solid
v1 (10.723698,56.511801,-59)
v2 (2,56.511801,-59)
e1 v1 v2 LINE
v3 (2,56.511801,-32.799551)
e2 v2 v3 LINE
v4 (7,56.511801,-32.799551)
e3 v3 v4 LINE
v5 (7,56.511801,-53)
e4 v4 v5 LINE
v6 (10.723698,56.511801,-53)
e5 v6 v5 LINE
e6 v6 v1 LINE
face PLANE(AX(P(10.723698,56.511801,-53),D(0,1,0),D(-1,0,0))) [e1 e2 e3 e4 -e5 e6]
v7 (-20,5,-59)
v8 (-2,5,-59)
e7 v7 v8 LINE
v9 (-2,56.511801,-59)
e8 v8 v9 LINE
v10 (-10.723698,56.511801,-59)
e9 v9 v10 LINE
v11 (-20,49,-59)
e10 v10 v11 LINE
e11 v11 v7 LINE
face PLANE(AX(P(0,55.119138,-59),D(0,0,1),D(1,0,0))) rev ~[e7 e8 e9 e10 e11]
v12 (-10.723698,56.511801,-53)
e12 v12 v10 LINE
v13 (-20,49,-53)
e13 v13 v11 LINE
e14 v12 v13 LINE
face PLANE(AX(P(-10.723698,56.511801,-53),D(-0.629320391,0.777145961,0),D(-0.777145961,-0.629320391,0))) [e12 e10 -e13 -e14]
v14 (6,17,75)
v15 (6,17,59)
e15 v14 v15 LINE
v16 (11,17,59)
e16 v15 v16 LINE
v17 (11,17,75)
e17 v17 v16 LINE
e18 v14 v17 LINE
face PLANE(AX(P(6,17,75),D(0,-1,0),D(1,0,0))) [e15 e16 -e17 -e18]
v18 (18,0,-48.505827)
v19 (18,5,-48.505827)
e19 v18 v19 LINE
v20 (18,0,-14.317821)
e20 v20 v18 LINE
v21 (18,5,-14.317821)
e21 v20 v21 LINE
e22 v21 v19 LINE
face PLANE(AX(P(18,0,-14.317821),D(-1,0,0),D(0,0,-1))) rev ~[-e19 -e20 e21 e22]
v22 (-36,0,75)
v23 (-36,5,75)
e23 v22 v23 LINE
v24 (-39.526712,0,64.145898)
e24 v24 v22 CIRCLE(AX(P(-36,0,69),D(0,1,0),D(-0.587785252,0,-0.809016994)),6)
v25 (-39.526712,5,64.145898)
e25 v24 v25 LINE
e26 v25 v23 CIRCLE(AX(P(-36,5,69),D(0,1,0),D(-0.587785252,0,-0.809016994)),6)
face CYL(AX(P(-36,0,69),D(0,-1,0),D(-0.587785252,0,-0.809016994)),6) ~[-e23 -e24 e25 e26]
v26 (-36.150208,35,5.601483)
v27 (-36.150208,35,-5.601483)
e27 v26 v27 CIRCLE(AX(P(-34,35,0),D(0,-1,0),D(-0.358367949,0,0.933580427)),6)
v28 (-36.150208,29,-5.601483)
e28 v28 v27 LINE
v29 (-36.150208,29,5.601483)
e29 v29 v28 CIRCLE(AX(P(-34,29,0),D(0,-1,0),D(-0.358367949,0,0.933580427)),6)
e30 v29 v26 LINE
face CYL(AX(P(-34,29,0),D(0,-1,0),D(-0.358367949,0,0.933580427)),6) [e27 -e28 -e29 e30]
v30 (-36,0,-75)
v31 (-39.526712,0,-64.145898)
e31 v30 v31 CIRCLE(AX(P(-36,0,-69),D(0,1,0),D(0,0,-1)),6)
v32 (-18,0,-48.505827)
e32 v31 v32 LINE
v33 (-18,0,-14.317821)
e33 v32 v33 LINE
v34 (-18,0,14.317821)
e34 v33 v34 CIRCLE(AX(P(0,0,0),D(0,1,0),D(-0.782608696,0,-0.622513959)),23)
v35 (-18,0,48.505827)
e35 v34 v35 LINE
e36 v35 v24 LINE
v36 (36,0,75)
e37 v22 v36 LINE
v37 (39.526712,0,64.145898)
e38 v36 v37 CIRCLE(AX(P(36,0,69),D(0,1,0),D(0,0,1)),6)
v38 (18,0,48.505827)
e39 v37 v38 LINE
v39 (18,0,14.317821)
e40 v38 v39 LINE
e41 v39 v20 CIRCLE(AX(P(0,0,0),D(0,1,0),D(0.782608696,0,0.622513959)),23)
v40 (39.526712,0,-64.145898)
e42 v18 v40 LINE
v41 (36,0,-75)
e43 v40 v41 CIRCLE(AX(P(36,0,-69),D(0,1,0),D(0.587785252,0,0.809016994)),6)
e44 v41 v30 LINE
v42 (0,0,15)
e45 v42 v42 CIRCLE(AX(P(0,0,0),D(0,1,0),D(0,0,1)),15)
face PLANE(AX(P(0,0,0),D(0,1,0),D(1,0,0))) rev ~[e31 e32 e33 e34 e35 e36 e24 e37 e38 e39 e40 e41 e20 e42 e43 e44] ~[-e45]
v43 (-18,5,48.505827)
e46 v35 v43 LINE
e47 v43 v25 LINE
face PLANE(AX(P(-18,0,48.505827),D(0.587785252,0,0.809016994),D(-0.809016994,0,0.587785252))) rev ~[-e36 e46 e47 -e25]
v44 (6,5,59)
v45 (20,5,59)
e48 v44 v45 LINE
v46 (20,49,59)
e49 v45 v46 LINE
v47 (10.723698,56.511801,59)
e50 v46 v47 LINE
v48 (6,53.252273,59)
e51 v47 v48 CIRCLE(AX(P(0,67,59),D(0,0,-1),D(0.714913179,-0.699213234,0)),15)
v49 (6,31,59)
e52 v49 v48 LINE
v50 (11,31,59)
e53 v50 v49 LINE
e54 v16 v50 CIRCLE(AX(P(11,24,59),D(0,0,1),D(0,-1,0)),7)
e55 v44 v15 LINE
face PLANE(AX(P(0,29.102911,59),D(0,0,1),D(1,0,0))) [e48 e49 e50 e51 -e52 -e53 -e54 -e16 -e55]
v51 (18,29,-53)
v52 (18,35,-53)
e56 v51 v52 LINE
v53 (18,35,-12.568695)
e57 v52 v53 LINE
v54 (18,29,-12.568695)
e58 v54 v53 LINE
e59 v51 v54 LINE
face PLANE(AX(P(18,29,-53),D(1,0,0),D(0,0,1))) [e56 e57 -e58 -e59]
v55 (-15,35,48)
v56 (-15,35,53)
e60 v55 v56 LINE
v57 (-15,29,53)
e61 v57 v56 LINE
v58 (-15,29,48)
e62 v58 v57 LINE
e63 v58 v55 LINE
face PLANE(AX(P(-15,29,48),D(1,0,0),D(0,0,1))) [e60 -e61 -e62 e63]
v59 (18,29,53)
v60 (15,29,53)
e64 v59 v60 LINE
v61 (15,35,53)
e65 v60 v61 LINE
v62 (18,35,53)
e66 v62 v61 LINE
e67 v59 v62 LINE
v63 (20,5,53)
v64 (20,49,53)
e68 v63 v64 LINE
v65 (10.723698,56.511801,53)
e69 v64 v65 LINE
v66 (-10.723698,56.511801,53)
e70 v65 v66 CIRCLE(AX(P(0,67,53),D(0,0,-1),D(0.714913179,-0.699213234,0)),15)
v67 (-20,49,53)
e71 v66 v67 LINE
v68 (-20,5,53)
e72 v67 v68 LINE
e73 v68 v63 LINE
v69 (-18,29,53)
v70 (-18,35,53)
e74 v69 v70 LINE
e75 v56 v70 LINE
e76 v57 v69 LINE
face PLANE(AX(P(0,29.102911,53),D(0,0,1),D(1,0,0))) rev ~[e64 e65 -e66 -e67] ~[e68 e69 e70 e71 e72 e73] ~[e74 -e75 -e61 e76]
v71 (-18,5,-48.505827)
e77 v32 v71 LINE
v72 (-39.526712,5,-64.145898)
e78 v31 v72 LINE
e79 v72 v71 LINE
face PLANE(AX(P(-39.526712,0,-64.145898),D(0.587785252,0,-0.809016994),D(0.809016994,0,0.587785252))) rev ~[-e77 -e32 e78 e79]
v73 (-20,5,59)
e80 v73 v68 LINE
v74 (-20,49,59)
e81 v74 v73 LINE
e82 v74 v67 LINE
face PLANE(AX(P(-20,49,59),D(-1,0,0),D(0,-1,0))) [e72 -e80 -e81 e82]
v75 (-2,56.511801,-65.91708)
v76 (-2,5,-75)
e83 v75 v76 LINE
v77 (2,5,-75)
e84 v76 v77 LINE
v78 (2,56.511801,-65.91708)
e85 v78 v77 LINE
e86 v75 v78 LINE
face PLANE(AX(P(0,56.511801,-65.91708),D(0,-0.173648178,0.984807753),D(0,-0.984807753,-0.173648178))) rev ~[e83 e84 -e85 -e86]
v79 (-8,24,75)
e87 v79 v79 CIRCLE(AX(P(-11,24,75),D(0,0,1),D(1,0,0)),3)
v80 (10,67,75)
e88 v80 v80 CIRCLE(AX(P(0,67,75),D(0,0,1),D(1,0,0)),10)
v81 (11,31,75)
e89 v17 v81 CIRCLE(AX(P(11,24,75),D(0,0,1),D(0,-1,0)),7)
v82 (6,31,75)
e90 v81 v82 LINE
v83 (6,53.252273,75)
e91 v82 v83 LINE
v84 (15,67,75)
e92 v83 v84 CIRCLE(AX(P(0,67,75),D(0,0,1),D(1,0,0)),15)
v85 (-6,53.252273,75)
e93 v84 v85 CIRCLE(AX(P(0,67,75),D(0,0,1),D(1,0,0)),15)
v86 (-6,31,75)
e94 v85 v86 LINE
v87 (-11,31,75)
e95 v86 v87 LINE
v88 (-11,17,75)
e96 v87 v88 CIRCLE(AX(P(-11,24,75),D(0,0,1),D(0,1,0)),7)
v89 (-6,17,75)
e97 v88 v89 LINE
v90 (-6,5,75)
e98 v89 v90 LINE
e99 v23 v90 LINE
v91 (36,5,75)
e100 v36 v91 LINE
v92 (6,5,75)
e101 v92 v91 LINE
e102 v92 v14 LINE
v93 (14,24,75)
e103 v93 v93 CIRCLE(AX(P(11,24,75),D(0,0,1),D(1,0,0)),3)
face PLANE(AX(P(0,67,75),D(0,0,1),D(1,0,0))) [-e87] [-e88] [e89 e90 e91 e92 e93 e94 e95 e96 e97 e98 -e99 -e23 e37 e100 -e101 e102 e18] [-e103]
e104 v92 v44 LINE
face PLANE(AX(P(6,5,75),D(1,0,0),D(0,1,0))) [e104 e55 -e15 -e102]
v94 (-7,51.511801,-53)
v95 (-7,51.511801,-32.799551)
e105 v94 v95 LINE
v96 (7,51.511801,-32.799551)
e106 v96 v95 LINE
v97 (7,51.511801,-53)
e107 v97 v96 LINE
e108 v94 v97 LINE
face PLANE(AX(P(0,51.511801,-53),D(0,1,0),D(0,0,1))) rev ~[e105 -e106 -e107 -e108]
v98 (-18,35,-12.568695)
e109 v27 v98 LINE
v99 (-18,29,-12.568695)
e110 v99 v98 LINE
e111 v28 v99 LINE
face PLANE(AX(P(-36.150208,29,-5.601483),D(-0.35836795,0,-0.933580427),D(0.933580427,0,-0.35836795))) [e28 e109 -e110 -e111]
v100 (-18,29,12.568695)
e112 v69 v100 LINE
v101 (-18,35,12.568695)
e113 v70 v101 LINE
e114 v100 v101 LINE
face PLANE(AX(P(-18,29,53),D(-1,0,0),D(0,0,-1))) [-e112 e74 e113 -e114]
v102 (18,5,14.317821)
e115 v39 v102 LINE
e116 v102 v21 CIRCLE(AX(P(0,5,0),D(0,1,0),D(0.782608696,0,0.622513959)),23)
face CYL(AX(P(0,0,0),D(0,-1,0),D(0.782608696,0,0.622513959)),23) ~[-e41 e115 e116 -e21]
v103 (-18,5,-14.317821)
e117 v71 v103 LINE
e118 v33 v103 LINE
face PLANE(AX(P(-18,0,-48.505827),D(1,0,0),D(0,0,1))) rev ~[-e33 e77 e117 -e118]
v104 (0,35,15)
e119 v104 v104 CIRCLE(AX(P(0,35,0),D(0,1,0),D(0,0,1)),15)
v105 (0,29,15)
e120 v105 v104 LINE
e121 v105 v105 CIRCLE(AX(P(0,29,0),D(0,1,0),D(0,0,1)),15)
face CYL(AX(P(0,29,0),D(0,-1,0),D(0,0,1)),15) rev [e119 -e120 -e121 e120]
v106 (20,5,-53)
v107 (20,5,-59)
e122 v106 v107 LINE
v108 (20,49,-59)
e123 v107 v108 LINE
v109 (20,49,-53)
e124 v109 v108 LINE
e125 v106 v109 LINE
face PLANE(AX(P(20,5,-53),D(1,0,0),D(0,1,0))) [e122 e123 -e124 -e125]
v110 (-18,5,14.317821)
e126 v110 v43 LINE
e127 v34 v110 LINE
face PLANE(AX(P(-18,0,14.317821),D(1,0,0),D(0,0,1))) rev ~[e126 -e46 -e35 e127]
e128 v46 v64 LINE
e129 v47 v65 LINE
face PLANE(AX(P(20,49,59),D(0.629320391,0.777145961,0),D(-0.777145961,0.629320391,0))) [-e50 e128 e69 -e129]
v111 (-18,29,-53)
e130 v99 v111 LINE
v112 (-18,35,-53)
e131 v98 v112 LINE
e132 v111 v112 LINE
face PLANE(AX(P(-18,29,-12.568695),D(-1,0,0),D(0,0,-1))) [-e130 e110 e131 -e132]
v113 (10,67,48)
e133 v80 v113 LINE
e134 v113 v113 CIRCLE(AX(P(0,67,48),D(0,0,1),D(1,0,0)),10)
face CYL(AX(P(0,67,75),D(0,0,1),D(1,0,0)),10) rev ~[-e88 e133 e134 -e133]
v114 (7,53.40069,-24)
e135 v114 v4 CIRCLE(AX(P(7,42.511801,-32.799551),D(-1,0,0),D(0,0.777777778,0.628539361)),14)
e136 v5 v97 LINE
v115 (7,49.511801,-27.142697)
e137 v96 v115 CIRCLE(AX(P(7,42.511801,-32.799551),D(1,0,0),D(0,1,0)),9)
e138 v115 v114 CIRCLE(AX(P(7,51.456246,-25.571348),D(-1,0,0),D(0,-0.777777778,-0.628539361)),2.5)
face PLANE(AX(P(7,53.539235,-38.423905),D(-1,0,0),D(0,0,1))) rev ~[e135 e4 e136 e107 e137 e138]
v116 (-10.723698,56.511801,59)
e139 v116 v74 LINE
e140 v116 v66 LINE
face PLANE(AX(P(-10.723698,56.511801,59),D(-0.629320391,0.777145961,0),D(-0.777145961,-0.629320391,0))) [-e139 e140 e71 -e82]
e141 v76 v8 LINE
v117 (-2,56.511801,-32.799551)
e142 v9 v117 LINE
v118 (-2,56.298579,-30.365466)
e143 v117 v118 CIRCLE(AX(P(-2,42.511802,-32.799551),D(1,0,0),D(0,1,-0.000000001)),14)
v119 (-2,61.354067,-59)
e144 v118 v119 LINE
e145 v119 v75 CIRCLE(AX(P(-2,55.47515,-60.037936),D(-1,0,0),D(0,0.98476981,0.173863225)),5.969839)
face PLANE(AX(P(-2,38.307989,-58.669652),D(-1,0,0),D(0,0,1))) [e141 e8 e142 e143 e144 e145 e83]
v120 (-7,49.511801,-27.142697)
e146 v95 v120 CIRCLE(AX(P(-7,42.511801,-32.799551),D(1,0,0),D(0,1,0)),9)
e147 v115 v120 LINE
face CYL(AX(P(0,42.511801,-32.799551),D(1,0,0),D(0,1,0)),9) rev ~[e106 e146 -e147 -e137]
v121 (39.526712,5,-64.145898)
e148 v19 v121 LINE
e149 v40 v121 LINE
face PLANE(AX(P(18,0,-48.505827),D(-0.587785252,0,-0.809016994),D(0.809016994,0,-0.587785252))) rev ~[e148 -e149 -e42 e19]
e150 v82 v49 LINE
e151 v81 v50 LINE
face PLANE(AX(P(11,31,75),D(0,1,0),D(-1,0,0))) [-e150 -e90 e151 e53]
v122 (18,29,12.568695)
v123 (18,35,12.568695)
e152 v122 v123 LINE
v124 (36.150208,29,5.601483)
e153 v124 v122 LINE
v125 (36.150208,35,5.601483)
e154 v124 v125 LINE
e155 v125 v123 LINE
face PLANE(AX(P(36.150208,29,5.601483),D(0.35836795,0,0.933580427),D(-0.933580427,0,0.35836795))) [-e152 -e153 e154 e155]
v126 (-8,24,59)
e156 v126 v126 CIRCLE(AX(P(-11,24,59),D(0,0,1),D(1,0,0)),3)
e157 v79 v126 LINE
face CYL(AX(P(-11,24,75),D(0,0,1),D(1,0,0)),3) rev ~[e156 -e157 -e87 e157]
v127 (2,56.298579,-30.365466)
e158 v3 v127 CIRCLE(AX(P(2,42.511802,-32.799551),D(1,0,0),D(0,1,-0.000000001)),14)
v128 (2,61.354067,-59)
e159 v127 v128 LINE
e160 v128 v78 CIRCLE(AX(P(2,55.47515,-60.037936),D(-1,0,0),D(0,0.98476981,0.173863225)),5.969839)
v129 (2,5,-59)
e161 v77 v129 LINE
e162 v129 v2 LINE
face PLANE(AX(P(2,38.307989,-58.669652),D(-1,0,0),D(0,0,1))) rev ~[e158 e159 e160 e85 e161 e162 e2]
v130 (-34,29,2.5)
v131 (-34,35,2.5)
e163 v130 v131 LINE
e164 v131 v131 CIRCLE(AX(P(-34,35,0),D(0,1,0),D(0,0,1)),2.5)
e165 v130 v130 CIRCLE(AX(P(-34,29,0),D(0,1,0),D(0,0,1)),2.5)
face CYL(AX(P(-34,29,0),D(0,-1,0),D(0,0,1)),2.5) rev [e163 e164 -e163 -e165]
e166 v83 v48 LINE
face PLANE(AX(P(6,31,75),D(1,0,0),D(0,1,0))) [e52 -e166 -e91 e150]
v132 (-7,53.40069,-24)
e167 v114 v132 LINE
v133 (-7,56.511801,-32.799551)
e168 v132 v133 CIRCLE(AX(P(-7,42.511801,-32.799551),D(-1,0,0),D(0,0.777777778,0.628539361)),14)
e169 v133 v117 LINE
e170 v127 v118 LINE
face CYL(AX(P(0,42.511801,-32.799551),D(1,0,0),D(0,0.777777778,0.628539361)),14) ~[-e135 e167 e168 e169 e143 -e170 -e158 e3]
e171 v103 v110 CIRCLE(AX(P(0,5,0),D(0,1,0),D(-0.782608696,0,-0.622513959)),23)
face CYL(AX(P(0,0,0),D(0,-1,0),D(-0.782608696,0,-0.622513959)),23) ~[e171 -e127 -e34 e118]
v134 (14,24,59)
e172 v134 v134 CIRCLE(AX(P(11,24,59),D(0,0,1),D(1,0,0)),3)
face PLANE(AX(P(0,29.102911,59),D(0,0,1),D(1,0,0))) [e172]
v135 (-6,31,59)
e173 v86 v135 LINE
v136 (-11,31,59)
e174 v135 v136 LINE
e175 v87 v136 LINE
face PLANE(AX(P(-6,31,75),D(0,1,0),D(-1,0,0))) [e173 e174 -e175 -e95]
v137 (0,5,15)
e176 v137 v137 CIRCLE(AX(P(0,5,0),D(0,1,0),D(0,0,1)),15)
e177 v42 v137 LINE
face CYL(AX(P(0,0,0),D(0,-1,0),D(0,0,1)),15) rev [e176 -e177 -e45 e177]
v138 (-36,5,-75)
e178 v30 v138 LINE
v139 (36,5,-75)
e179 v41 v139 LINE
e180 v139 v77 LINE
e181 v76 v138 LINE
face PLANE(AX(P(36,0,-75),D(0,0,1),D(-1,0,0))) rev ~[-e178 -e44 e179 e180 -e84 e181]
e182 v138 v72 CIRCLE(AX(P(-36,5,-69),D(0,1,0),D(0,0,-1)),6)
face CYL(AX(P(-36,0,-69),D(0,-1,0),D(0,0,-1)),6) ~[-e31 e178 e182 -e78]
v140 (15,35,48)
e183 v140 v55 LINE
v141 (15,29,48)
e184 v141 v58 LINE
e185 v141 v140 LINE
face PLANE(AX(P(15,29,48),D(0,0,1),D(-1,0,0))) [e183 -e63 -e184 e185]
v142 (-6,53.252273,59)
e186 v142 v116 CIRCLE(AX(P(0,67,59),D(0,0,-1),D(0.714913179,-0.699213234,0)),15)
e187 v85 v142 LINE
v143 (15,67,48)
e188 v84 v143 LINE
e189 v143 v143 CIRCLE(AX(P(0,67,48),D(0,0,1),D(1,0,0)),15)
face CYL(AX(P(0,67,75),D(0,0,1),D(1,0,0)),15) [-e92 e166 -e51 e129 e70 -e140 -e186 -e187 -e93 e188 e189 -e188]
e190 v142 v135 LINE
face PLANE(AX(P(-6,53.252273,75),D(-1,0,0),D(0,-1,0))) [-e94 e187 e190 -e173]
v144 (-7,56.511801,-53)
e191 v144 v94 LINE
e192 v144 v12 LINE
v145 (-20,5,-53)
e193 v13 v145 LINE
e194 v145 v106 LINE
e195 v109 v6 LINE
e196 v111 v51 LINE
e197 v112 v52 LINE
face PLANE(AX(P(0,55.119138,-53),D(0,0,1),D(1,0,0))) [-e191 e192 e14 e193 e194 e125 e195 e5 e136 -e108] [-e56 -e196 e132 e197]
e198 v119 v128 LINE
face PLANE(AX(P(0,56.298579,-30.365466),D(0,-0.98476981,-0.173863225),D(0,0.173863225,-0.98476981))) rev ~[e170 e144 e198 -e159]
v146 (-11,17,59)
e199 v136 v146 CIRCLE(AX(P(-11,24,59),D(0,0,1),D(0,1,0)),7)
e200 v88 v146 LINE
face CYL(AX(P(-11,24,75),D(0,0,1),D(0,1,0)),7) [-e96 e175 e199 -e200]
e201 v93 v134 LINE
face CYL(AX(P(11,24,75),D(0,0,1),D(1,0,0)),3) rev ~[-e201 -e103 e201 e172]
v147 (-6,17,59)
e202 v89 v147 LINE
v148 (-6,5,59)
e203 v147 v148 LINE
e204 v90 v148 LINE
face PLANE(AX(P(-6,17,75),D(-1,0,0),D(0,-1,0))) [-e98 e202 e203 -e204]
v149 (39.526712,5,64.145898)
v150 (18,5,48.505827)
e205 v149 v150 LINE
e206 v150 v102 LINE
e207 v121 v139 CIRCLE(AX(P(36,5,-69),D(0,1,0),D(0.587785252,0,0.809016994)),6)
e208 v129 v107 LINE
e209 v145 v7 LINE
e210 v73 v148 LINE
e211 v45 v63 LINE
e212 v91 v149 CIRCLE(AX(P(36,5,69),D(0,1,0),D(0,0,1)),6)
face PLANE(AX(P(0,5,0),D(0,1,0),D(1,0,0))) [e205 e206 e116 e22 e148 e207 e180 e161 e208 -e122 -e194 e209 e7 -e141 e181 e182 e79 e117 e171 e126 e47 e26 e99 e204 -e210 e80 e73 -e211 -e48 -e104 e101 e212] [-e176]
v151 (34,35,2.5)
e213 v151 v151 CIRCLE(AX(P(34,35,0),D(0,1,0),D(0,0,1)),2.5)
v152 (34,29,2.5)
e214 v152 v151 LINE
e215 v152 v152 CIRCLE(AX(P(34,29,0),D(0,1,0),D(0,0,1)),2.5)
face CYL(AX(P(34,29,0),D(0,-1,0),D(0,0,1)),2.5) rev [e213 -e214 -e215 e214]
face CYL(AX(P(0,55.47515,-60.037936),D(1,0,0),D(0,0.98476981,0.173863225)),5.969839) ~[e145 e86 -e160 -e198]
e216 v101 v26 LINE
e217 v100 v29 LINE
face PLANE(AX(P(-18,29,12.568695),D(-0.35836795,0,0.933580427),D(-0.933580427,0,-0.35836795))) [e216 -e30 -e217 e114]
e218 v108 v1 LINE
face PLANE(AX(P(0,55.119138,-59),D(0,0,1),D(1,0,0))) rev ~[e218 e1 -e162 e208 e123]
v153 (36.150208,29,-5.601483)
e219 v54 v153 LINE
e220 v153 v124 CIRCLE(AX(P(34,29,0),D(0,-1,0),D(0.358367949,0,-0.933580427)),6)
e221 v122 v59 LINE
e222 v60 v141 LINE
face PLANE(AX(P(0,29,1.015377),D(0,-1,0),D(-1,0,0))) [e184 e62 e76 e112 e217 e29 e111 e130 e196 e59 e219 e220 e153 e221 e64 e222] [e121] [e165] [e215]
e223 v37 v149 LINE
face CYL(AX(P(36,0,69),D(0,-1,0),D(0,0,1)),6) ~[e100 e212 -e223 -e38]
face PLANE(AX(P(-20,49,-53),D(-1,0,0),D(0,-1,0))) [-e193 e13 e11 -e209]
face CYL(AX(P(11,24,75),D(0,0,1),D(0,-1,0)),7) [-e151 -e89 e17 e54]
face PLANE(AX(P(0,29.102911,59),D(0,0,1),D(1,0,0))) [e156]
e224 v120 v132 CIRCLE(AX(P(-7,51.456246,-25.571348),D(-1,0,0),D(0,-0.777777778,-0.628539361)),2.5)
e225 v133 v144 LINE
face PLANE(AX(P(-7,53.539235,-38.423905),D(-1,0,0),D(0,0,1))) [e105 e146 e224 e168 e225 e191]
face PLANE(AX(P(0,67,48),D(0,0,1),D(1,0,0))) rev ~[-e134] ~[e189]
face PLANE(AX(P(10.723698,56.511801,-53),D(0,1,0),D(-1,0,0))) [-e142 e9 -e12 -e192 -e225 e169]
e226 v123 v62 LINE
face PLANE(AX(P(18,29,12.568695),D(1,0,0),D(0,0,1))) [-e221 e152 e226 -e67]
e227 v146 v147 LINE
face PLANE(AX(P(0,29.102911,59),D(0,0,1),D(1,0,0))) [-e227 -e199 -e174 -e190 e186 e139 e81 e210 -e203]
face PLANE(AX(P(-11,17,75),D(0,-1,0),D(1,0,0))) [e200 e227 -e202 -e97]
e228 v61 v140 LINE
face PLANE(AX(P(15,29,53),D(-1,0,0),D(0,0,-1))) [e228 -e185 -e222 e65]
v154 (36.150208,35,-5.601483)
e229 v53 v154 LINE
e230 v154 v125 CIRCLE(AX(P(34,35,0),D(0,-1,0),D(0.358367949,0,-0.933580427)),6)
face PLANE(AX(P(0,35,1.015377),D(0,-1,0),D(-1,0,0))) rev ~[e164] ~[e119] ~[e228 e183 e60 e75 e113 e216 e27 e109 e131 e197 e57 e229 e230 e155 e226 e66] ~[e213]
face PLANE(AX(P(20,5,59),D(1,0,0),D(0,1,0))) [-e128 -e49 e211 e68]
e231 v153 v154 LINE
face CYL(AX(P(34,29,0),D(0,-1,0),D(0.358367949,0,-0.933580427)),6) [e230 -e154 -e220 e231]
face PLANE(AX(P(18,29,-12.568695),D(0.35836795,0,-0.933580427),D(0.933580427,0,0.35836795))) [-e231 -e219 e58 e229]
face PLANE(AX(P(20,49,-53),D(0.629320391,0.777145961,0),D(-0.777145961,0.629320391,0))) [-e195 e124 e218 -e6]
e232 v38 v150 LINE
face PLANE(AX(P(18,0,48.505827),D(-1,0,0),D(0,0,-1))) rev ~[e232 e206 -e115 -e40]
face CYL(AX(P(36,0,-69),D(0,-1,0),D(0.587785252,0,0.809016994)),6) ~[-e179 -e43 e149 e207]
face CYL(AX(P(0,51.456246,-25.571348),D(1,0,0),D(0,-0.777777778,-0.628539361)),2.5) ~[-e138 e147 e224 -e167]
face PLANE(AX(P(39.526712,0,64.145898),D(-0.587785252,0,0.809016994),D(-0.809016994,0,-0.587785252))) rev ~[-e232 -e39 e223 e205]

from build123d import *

# Parameters (mm, degrees)
SKETCH1_R            = 15
BOSS_EXTRUDE1_DEPTH  = 5
SKETCH2_R            = 15
SKETCH2_R_2          = 10
BOSS_EXTRUDE2_DEPTH  = 27
SKETCH4_R            = 3
BOSS_EXTRUDE19_DEPTH = 16
BOSS_EXTRUDE20_DEPTH = 6
LPATTERN1_COUNT      = 2
LPATTERN1_PITCH      = 112
BOSS_EXTRUDE21_START = -6
BOSS_EXTRUDE21_DEPTH = 6
BOSS_EXTRUDE22_START = 24
SKETCH8_R            = 2.5
SKETCH8_R_2          = 15
BOSS_EXTRUDE22_DEPTH = 6
BOSS_EXTRUDE23_DEPTH = 7
BOSS_EXTRUDE24_DEPTH = 2


with BuildPart() as part:
    # Sketch1 → Boss-Extrude1 (new body)
    with BuildSketch(Plane(origin=(0, 0, 0), x_dir=(1, 0, 0), z_dir=(0, 1, 0))):
        with BuildLine():
            Line((-18, 48.505826631), (-18, 14.317821063))
            ThreePointArc((-18, 14.317821063), (-23, 0), (-18, -14.317821063))
            Line((-18, -14.317821063), (-18, -48.505826631))
            Line((-18, -48.505826631), (-39.526711514, -64.145898034))
            ThreePointArc((-39.526711514, -64.145898034), (-41.706339098, -70.854101966), (-36, -75))
            Line((-36, -75), (36, -75))
            ThreePointArc((36, -75), (41.706339098, -70.854101966), (39.526711514, -64.145898034))
            Line((39.526711514, -64.145898034), (18, -48.505826631))
            Line((18, -48.505826631), (18, -14.317821063))
            ThreePointArc((18, -14.317821063), (23, 0), (18, 14.317821063))
            Line((18, 14.317821063), (18, 48.505826631))
            Line((18, 48.505826631), (39.526711514, 64.145898034))
            ThreePointArc((39.526711514, 64.145898034), (41.706339098, 70.854101966), (36, 75))
            Line((36, 75), (-36, 75))
            ThreePointArc((-36, 75), (-41.706339098, 70.854101966), (-39.526711514, 64.145898034))
            Line((-39.526711514, 64.145898034), (-18, 48.505826631))
        make_face()
        with Locations(Location((0, 0, 0), (0, 0, 270))):
            Circle(SKETCH1_R, mode=Mode.SUBTRACT)
    extrude(amount=BOSS_EXTRUDE1_DEPTH)



with BuildPart() as body_2:
    # Sketch2 → Boss-Extrude2 (new body)
    with BuildSketch(Plane.XY.offset(75)):
        with Locations((0, 67)):
            Circle(SKETCH2_R)
        with Locations((0, 67)):
            Circle(SKETCH2_R_2, mode=Mode.SUBTRACT)
    extrude(amount=-BOSS_EXTRUDE2_DEPTH)


with BuildPart() as part_1:
    add(part.part)

    add(body_2.part)  # Boss-Extrude19 merges body 2
    # Sketch4 → Boss-Extrude19 (add)
    with BuildSketch(Plane.XY.offset(75)):
        with BuildLine():
            Line((-6, 53.252272915), (-6, 31))
            Line((-6, 31), (-11, 31))
            ThreePointArc((-11, 31), (-18, 24), (-11, 17))
            Line((-11, 17), (-6, 17))
            Line((-6, 17), (-6, 5))
            Line((-6, 5), (6, 5))
            Line((6, 5), (6, 17))
            Line((6, 17), (11, 17))
            ThreePointArc((11, 17), (18, 24), (11, 31))
            Line((11, 31), (6, 31))
            Line((6, 31), (6, 53.252272915))
            ThreePointArc((6, 53.252272915), (0, 52), (-6, 53.252272915))
        make_face()
        with Locations((-11, 24)):
            Circle(SKETCH4_R, mode=Mode.SUBTRACT)
        with Locations((11, 24)):
            Circle(SKETCH4_R, mode=Mode.SUBTRACT)
    extrude(amount=-BOSS_EXTRUDE19_DEPTH)

    # Sketch5 → Boss-Extrude20 (add)
    with BuildSketch(Plane(origin=(0, 0, 59), x_dir=(-1, 0, 0), z_dir=(0, 0, -1))):
        with BuildLine():
            Line((-20, 5), (-20, 49))
            Line((-20, 49), (-10.723697691, 56.511801497))
            ThreePointArc((-10.723697691, 56.511801497), (0, 52), (10.723697691, 56.511801497))
            Line((10.723697691, 56.511801497), (20, 49))
            Line((20, 49), (20, 5))
            Line((20, 5), (-20, 5))
        make_face()
    boss_extrude20 = extrude(amount=BOSS_EXTRUDE20_DEPTH)

    # LPattern1: Boss-Extrude20 ×2
    with Locations(*[(0, 0, -i * LPATTERN1_PITCH) for i in range(1, LPATTERN1_COUNT)]):
        add(boss_extrude20)

    # Sketch7 → Boss-Extrude21 (add)
    with BuildSketch(Plane(origin=(0, 0, -59), x_dir=(-1, 0, 0), z_dir=(0, 0, -1)).offset(BOSS_EXTRUDE21_START)):
        with BuildLine():
            Line((-10.723697691, 56.511801497), (10.723697691, 56.511801497))
            ThreePointArc((10.723697691, 56.511801497), (0, 52), (-10.723697691, 56.511801497))
        make_face()
    extrude(amount=BOSS_EXTRUDE21_DEPTH)

    # Sketch8 → Boss-Extrude22 (add)
    with BuildSketch(Plane(origin=(0, 5, 0), x_dir=(1, 0, 0), z_dir=(0, 1, 0)).offset(BOSS_EXTRUDE22_START)):
        with BuildLine():
            Line((-36.150207697, 5.601482559), (-18, 12.568694522))
            Line((-18, 12.568694522), (-18, 53))
            Line((-18, 53), (18, 53))
            Line((18, 53), (18, 12.568694522))
            Line((18, 12.568694522), (36.150207697, 5.601482559))
            ThreePointArc((36.150207697, 5.601482559), (40, 0), (36.150207697, -5.601482559))
            Line((36.150207697, -5.601482559), (18, -12.568694522))
            Line((18, -12.568694522), (18, -53))
            Line((18, -53), (15, -53))
            Line((15, -53), (15, -48))
            Line((15, -48), (-15, -48))
            Line((-15, -48), (-15, -53))
            Line((-15, -53), (-18, -53))
            Line((-18, -53), (-18, -12.568694522))
            Line((-18, -12.568694522), (-36.150207697, -5.601482559))
            ThreePointArc((-36.150207697, -5.601482559), (-40, 0), (-36.150207697, 5.601482559))
        make_face()
        with Locations(Location((-34, 0, 0), (0, 0, 270))):
            Circle(SKETCH8_R, mode=Mode.SUBTRACT)
        with Locations(Location((34, 0, 0), (0, 0, 270))):
            Circle(SKETCH8_R, mode=Mode.SUBTRACT)
        with Locations(Location((0, 0, 0), (0, 0, 270))):
            Circle(SKETCH8_R_2, mode=Mode.SUBTRACT)
    extrude(amount=BOSS_EXTRUDE22_DEPTH)

    # Sketch9 → Boss-Extrude23 (add, symmetric)
    with BuildSketch(Plane(origin=(0, 0, 0), x_dir=(0, 0, -1), z_dir=(1, 0, 0))):
        with BuildLine():
            Line((53, 51.511801497), (32.799551055, 51.511801497))
            ThreePointArc((32.799551055, 51.511801497), (29.799551055, 50.997082871), (27.142696805, 49.511801497))
            ThreePointArc((27.142696805, 49.511801497), (23.626903958, 49.884897539), (24, 53.400690386))
            ThreePointArc((24, 53.400690386), (28.132884388, 55.711128079), (32.799551055, 56.511801497))
            Line((32.799551055, 56.511801497), (53, 56.511801497))
            Line((53, 56.511801497), (53, 51.511801497))
        make_face()
    extrude(amount=BOSS_EXTRUDE23_DEPTH, both=True)

    # Sketch10 → Boss-Extrude24 (add, symmetric)
    with BuildSketch(Plane(origin=(0, 0, 0), x_dir=(0, 0, -1), z_dir=(1, 0, 0))):
        with BuildLine():
            Line((75, 5), (64.145898034, 5))
            Line((64.145898034, 5), (59, 5))
            Line((59, 5), (59, 49))
            Line((59, 49), (59, 56.511801497))
            Line((59, 56.511801497), (53, 56.511801497))
            Line((53, 56.511801497), (32.799551055, 56.511801497))
            ThreePointArc((32.799551055, 56.511801497), (31.5778479, 56.458393963), (30.365465911, 56.29857884))
            Line((30.365465911, 56.29857884), (59, 61.35406732))
            ThreePointArc((59, 61.35406732), (63.46156073, 60.365729702), (65.917079571, 56.511801497))
            Line((65.917079571, 56.511801497), (75, 5))
        make_face()
    extrude(amount=BOSS_EXTRUDE24_DEPTH, both=True)


solid = part_1.part
